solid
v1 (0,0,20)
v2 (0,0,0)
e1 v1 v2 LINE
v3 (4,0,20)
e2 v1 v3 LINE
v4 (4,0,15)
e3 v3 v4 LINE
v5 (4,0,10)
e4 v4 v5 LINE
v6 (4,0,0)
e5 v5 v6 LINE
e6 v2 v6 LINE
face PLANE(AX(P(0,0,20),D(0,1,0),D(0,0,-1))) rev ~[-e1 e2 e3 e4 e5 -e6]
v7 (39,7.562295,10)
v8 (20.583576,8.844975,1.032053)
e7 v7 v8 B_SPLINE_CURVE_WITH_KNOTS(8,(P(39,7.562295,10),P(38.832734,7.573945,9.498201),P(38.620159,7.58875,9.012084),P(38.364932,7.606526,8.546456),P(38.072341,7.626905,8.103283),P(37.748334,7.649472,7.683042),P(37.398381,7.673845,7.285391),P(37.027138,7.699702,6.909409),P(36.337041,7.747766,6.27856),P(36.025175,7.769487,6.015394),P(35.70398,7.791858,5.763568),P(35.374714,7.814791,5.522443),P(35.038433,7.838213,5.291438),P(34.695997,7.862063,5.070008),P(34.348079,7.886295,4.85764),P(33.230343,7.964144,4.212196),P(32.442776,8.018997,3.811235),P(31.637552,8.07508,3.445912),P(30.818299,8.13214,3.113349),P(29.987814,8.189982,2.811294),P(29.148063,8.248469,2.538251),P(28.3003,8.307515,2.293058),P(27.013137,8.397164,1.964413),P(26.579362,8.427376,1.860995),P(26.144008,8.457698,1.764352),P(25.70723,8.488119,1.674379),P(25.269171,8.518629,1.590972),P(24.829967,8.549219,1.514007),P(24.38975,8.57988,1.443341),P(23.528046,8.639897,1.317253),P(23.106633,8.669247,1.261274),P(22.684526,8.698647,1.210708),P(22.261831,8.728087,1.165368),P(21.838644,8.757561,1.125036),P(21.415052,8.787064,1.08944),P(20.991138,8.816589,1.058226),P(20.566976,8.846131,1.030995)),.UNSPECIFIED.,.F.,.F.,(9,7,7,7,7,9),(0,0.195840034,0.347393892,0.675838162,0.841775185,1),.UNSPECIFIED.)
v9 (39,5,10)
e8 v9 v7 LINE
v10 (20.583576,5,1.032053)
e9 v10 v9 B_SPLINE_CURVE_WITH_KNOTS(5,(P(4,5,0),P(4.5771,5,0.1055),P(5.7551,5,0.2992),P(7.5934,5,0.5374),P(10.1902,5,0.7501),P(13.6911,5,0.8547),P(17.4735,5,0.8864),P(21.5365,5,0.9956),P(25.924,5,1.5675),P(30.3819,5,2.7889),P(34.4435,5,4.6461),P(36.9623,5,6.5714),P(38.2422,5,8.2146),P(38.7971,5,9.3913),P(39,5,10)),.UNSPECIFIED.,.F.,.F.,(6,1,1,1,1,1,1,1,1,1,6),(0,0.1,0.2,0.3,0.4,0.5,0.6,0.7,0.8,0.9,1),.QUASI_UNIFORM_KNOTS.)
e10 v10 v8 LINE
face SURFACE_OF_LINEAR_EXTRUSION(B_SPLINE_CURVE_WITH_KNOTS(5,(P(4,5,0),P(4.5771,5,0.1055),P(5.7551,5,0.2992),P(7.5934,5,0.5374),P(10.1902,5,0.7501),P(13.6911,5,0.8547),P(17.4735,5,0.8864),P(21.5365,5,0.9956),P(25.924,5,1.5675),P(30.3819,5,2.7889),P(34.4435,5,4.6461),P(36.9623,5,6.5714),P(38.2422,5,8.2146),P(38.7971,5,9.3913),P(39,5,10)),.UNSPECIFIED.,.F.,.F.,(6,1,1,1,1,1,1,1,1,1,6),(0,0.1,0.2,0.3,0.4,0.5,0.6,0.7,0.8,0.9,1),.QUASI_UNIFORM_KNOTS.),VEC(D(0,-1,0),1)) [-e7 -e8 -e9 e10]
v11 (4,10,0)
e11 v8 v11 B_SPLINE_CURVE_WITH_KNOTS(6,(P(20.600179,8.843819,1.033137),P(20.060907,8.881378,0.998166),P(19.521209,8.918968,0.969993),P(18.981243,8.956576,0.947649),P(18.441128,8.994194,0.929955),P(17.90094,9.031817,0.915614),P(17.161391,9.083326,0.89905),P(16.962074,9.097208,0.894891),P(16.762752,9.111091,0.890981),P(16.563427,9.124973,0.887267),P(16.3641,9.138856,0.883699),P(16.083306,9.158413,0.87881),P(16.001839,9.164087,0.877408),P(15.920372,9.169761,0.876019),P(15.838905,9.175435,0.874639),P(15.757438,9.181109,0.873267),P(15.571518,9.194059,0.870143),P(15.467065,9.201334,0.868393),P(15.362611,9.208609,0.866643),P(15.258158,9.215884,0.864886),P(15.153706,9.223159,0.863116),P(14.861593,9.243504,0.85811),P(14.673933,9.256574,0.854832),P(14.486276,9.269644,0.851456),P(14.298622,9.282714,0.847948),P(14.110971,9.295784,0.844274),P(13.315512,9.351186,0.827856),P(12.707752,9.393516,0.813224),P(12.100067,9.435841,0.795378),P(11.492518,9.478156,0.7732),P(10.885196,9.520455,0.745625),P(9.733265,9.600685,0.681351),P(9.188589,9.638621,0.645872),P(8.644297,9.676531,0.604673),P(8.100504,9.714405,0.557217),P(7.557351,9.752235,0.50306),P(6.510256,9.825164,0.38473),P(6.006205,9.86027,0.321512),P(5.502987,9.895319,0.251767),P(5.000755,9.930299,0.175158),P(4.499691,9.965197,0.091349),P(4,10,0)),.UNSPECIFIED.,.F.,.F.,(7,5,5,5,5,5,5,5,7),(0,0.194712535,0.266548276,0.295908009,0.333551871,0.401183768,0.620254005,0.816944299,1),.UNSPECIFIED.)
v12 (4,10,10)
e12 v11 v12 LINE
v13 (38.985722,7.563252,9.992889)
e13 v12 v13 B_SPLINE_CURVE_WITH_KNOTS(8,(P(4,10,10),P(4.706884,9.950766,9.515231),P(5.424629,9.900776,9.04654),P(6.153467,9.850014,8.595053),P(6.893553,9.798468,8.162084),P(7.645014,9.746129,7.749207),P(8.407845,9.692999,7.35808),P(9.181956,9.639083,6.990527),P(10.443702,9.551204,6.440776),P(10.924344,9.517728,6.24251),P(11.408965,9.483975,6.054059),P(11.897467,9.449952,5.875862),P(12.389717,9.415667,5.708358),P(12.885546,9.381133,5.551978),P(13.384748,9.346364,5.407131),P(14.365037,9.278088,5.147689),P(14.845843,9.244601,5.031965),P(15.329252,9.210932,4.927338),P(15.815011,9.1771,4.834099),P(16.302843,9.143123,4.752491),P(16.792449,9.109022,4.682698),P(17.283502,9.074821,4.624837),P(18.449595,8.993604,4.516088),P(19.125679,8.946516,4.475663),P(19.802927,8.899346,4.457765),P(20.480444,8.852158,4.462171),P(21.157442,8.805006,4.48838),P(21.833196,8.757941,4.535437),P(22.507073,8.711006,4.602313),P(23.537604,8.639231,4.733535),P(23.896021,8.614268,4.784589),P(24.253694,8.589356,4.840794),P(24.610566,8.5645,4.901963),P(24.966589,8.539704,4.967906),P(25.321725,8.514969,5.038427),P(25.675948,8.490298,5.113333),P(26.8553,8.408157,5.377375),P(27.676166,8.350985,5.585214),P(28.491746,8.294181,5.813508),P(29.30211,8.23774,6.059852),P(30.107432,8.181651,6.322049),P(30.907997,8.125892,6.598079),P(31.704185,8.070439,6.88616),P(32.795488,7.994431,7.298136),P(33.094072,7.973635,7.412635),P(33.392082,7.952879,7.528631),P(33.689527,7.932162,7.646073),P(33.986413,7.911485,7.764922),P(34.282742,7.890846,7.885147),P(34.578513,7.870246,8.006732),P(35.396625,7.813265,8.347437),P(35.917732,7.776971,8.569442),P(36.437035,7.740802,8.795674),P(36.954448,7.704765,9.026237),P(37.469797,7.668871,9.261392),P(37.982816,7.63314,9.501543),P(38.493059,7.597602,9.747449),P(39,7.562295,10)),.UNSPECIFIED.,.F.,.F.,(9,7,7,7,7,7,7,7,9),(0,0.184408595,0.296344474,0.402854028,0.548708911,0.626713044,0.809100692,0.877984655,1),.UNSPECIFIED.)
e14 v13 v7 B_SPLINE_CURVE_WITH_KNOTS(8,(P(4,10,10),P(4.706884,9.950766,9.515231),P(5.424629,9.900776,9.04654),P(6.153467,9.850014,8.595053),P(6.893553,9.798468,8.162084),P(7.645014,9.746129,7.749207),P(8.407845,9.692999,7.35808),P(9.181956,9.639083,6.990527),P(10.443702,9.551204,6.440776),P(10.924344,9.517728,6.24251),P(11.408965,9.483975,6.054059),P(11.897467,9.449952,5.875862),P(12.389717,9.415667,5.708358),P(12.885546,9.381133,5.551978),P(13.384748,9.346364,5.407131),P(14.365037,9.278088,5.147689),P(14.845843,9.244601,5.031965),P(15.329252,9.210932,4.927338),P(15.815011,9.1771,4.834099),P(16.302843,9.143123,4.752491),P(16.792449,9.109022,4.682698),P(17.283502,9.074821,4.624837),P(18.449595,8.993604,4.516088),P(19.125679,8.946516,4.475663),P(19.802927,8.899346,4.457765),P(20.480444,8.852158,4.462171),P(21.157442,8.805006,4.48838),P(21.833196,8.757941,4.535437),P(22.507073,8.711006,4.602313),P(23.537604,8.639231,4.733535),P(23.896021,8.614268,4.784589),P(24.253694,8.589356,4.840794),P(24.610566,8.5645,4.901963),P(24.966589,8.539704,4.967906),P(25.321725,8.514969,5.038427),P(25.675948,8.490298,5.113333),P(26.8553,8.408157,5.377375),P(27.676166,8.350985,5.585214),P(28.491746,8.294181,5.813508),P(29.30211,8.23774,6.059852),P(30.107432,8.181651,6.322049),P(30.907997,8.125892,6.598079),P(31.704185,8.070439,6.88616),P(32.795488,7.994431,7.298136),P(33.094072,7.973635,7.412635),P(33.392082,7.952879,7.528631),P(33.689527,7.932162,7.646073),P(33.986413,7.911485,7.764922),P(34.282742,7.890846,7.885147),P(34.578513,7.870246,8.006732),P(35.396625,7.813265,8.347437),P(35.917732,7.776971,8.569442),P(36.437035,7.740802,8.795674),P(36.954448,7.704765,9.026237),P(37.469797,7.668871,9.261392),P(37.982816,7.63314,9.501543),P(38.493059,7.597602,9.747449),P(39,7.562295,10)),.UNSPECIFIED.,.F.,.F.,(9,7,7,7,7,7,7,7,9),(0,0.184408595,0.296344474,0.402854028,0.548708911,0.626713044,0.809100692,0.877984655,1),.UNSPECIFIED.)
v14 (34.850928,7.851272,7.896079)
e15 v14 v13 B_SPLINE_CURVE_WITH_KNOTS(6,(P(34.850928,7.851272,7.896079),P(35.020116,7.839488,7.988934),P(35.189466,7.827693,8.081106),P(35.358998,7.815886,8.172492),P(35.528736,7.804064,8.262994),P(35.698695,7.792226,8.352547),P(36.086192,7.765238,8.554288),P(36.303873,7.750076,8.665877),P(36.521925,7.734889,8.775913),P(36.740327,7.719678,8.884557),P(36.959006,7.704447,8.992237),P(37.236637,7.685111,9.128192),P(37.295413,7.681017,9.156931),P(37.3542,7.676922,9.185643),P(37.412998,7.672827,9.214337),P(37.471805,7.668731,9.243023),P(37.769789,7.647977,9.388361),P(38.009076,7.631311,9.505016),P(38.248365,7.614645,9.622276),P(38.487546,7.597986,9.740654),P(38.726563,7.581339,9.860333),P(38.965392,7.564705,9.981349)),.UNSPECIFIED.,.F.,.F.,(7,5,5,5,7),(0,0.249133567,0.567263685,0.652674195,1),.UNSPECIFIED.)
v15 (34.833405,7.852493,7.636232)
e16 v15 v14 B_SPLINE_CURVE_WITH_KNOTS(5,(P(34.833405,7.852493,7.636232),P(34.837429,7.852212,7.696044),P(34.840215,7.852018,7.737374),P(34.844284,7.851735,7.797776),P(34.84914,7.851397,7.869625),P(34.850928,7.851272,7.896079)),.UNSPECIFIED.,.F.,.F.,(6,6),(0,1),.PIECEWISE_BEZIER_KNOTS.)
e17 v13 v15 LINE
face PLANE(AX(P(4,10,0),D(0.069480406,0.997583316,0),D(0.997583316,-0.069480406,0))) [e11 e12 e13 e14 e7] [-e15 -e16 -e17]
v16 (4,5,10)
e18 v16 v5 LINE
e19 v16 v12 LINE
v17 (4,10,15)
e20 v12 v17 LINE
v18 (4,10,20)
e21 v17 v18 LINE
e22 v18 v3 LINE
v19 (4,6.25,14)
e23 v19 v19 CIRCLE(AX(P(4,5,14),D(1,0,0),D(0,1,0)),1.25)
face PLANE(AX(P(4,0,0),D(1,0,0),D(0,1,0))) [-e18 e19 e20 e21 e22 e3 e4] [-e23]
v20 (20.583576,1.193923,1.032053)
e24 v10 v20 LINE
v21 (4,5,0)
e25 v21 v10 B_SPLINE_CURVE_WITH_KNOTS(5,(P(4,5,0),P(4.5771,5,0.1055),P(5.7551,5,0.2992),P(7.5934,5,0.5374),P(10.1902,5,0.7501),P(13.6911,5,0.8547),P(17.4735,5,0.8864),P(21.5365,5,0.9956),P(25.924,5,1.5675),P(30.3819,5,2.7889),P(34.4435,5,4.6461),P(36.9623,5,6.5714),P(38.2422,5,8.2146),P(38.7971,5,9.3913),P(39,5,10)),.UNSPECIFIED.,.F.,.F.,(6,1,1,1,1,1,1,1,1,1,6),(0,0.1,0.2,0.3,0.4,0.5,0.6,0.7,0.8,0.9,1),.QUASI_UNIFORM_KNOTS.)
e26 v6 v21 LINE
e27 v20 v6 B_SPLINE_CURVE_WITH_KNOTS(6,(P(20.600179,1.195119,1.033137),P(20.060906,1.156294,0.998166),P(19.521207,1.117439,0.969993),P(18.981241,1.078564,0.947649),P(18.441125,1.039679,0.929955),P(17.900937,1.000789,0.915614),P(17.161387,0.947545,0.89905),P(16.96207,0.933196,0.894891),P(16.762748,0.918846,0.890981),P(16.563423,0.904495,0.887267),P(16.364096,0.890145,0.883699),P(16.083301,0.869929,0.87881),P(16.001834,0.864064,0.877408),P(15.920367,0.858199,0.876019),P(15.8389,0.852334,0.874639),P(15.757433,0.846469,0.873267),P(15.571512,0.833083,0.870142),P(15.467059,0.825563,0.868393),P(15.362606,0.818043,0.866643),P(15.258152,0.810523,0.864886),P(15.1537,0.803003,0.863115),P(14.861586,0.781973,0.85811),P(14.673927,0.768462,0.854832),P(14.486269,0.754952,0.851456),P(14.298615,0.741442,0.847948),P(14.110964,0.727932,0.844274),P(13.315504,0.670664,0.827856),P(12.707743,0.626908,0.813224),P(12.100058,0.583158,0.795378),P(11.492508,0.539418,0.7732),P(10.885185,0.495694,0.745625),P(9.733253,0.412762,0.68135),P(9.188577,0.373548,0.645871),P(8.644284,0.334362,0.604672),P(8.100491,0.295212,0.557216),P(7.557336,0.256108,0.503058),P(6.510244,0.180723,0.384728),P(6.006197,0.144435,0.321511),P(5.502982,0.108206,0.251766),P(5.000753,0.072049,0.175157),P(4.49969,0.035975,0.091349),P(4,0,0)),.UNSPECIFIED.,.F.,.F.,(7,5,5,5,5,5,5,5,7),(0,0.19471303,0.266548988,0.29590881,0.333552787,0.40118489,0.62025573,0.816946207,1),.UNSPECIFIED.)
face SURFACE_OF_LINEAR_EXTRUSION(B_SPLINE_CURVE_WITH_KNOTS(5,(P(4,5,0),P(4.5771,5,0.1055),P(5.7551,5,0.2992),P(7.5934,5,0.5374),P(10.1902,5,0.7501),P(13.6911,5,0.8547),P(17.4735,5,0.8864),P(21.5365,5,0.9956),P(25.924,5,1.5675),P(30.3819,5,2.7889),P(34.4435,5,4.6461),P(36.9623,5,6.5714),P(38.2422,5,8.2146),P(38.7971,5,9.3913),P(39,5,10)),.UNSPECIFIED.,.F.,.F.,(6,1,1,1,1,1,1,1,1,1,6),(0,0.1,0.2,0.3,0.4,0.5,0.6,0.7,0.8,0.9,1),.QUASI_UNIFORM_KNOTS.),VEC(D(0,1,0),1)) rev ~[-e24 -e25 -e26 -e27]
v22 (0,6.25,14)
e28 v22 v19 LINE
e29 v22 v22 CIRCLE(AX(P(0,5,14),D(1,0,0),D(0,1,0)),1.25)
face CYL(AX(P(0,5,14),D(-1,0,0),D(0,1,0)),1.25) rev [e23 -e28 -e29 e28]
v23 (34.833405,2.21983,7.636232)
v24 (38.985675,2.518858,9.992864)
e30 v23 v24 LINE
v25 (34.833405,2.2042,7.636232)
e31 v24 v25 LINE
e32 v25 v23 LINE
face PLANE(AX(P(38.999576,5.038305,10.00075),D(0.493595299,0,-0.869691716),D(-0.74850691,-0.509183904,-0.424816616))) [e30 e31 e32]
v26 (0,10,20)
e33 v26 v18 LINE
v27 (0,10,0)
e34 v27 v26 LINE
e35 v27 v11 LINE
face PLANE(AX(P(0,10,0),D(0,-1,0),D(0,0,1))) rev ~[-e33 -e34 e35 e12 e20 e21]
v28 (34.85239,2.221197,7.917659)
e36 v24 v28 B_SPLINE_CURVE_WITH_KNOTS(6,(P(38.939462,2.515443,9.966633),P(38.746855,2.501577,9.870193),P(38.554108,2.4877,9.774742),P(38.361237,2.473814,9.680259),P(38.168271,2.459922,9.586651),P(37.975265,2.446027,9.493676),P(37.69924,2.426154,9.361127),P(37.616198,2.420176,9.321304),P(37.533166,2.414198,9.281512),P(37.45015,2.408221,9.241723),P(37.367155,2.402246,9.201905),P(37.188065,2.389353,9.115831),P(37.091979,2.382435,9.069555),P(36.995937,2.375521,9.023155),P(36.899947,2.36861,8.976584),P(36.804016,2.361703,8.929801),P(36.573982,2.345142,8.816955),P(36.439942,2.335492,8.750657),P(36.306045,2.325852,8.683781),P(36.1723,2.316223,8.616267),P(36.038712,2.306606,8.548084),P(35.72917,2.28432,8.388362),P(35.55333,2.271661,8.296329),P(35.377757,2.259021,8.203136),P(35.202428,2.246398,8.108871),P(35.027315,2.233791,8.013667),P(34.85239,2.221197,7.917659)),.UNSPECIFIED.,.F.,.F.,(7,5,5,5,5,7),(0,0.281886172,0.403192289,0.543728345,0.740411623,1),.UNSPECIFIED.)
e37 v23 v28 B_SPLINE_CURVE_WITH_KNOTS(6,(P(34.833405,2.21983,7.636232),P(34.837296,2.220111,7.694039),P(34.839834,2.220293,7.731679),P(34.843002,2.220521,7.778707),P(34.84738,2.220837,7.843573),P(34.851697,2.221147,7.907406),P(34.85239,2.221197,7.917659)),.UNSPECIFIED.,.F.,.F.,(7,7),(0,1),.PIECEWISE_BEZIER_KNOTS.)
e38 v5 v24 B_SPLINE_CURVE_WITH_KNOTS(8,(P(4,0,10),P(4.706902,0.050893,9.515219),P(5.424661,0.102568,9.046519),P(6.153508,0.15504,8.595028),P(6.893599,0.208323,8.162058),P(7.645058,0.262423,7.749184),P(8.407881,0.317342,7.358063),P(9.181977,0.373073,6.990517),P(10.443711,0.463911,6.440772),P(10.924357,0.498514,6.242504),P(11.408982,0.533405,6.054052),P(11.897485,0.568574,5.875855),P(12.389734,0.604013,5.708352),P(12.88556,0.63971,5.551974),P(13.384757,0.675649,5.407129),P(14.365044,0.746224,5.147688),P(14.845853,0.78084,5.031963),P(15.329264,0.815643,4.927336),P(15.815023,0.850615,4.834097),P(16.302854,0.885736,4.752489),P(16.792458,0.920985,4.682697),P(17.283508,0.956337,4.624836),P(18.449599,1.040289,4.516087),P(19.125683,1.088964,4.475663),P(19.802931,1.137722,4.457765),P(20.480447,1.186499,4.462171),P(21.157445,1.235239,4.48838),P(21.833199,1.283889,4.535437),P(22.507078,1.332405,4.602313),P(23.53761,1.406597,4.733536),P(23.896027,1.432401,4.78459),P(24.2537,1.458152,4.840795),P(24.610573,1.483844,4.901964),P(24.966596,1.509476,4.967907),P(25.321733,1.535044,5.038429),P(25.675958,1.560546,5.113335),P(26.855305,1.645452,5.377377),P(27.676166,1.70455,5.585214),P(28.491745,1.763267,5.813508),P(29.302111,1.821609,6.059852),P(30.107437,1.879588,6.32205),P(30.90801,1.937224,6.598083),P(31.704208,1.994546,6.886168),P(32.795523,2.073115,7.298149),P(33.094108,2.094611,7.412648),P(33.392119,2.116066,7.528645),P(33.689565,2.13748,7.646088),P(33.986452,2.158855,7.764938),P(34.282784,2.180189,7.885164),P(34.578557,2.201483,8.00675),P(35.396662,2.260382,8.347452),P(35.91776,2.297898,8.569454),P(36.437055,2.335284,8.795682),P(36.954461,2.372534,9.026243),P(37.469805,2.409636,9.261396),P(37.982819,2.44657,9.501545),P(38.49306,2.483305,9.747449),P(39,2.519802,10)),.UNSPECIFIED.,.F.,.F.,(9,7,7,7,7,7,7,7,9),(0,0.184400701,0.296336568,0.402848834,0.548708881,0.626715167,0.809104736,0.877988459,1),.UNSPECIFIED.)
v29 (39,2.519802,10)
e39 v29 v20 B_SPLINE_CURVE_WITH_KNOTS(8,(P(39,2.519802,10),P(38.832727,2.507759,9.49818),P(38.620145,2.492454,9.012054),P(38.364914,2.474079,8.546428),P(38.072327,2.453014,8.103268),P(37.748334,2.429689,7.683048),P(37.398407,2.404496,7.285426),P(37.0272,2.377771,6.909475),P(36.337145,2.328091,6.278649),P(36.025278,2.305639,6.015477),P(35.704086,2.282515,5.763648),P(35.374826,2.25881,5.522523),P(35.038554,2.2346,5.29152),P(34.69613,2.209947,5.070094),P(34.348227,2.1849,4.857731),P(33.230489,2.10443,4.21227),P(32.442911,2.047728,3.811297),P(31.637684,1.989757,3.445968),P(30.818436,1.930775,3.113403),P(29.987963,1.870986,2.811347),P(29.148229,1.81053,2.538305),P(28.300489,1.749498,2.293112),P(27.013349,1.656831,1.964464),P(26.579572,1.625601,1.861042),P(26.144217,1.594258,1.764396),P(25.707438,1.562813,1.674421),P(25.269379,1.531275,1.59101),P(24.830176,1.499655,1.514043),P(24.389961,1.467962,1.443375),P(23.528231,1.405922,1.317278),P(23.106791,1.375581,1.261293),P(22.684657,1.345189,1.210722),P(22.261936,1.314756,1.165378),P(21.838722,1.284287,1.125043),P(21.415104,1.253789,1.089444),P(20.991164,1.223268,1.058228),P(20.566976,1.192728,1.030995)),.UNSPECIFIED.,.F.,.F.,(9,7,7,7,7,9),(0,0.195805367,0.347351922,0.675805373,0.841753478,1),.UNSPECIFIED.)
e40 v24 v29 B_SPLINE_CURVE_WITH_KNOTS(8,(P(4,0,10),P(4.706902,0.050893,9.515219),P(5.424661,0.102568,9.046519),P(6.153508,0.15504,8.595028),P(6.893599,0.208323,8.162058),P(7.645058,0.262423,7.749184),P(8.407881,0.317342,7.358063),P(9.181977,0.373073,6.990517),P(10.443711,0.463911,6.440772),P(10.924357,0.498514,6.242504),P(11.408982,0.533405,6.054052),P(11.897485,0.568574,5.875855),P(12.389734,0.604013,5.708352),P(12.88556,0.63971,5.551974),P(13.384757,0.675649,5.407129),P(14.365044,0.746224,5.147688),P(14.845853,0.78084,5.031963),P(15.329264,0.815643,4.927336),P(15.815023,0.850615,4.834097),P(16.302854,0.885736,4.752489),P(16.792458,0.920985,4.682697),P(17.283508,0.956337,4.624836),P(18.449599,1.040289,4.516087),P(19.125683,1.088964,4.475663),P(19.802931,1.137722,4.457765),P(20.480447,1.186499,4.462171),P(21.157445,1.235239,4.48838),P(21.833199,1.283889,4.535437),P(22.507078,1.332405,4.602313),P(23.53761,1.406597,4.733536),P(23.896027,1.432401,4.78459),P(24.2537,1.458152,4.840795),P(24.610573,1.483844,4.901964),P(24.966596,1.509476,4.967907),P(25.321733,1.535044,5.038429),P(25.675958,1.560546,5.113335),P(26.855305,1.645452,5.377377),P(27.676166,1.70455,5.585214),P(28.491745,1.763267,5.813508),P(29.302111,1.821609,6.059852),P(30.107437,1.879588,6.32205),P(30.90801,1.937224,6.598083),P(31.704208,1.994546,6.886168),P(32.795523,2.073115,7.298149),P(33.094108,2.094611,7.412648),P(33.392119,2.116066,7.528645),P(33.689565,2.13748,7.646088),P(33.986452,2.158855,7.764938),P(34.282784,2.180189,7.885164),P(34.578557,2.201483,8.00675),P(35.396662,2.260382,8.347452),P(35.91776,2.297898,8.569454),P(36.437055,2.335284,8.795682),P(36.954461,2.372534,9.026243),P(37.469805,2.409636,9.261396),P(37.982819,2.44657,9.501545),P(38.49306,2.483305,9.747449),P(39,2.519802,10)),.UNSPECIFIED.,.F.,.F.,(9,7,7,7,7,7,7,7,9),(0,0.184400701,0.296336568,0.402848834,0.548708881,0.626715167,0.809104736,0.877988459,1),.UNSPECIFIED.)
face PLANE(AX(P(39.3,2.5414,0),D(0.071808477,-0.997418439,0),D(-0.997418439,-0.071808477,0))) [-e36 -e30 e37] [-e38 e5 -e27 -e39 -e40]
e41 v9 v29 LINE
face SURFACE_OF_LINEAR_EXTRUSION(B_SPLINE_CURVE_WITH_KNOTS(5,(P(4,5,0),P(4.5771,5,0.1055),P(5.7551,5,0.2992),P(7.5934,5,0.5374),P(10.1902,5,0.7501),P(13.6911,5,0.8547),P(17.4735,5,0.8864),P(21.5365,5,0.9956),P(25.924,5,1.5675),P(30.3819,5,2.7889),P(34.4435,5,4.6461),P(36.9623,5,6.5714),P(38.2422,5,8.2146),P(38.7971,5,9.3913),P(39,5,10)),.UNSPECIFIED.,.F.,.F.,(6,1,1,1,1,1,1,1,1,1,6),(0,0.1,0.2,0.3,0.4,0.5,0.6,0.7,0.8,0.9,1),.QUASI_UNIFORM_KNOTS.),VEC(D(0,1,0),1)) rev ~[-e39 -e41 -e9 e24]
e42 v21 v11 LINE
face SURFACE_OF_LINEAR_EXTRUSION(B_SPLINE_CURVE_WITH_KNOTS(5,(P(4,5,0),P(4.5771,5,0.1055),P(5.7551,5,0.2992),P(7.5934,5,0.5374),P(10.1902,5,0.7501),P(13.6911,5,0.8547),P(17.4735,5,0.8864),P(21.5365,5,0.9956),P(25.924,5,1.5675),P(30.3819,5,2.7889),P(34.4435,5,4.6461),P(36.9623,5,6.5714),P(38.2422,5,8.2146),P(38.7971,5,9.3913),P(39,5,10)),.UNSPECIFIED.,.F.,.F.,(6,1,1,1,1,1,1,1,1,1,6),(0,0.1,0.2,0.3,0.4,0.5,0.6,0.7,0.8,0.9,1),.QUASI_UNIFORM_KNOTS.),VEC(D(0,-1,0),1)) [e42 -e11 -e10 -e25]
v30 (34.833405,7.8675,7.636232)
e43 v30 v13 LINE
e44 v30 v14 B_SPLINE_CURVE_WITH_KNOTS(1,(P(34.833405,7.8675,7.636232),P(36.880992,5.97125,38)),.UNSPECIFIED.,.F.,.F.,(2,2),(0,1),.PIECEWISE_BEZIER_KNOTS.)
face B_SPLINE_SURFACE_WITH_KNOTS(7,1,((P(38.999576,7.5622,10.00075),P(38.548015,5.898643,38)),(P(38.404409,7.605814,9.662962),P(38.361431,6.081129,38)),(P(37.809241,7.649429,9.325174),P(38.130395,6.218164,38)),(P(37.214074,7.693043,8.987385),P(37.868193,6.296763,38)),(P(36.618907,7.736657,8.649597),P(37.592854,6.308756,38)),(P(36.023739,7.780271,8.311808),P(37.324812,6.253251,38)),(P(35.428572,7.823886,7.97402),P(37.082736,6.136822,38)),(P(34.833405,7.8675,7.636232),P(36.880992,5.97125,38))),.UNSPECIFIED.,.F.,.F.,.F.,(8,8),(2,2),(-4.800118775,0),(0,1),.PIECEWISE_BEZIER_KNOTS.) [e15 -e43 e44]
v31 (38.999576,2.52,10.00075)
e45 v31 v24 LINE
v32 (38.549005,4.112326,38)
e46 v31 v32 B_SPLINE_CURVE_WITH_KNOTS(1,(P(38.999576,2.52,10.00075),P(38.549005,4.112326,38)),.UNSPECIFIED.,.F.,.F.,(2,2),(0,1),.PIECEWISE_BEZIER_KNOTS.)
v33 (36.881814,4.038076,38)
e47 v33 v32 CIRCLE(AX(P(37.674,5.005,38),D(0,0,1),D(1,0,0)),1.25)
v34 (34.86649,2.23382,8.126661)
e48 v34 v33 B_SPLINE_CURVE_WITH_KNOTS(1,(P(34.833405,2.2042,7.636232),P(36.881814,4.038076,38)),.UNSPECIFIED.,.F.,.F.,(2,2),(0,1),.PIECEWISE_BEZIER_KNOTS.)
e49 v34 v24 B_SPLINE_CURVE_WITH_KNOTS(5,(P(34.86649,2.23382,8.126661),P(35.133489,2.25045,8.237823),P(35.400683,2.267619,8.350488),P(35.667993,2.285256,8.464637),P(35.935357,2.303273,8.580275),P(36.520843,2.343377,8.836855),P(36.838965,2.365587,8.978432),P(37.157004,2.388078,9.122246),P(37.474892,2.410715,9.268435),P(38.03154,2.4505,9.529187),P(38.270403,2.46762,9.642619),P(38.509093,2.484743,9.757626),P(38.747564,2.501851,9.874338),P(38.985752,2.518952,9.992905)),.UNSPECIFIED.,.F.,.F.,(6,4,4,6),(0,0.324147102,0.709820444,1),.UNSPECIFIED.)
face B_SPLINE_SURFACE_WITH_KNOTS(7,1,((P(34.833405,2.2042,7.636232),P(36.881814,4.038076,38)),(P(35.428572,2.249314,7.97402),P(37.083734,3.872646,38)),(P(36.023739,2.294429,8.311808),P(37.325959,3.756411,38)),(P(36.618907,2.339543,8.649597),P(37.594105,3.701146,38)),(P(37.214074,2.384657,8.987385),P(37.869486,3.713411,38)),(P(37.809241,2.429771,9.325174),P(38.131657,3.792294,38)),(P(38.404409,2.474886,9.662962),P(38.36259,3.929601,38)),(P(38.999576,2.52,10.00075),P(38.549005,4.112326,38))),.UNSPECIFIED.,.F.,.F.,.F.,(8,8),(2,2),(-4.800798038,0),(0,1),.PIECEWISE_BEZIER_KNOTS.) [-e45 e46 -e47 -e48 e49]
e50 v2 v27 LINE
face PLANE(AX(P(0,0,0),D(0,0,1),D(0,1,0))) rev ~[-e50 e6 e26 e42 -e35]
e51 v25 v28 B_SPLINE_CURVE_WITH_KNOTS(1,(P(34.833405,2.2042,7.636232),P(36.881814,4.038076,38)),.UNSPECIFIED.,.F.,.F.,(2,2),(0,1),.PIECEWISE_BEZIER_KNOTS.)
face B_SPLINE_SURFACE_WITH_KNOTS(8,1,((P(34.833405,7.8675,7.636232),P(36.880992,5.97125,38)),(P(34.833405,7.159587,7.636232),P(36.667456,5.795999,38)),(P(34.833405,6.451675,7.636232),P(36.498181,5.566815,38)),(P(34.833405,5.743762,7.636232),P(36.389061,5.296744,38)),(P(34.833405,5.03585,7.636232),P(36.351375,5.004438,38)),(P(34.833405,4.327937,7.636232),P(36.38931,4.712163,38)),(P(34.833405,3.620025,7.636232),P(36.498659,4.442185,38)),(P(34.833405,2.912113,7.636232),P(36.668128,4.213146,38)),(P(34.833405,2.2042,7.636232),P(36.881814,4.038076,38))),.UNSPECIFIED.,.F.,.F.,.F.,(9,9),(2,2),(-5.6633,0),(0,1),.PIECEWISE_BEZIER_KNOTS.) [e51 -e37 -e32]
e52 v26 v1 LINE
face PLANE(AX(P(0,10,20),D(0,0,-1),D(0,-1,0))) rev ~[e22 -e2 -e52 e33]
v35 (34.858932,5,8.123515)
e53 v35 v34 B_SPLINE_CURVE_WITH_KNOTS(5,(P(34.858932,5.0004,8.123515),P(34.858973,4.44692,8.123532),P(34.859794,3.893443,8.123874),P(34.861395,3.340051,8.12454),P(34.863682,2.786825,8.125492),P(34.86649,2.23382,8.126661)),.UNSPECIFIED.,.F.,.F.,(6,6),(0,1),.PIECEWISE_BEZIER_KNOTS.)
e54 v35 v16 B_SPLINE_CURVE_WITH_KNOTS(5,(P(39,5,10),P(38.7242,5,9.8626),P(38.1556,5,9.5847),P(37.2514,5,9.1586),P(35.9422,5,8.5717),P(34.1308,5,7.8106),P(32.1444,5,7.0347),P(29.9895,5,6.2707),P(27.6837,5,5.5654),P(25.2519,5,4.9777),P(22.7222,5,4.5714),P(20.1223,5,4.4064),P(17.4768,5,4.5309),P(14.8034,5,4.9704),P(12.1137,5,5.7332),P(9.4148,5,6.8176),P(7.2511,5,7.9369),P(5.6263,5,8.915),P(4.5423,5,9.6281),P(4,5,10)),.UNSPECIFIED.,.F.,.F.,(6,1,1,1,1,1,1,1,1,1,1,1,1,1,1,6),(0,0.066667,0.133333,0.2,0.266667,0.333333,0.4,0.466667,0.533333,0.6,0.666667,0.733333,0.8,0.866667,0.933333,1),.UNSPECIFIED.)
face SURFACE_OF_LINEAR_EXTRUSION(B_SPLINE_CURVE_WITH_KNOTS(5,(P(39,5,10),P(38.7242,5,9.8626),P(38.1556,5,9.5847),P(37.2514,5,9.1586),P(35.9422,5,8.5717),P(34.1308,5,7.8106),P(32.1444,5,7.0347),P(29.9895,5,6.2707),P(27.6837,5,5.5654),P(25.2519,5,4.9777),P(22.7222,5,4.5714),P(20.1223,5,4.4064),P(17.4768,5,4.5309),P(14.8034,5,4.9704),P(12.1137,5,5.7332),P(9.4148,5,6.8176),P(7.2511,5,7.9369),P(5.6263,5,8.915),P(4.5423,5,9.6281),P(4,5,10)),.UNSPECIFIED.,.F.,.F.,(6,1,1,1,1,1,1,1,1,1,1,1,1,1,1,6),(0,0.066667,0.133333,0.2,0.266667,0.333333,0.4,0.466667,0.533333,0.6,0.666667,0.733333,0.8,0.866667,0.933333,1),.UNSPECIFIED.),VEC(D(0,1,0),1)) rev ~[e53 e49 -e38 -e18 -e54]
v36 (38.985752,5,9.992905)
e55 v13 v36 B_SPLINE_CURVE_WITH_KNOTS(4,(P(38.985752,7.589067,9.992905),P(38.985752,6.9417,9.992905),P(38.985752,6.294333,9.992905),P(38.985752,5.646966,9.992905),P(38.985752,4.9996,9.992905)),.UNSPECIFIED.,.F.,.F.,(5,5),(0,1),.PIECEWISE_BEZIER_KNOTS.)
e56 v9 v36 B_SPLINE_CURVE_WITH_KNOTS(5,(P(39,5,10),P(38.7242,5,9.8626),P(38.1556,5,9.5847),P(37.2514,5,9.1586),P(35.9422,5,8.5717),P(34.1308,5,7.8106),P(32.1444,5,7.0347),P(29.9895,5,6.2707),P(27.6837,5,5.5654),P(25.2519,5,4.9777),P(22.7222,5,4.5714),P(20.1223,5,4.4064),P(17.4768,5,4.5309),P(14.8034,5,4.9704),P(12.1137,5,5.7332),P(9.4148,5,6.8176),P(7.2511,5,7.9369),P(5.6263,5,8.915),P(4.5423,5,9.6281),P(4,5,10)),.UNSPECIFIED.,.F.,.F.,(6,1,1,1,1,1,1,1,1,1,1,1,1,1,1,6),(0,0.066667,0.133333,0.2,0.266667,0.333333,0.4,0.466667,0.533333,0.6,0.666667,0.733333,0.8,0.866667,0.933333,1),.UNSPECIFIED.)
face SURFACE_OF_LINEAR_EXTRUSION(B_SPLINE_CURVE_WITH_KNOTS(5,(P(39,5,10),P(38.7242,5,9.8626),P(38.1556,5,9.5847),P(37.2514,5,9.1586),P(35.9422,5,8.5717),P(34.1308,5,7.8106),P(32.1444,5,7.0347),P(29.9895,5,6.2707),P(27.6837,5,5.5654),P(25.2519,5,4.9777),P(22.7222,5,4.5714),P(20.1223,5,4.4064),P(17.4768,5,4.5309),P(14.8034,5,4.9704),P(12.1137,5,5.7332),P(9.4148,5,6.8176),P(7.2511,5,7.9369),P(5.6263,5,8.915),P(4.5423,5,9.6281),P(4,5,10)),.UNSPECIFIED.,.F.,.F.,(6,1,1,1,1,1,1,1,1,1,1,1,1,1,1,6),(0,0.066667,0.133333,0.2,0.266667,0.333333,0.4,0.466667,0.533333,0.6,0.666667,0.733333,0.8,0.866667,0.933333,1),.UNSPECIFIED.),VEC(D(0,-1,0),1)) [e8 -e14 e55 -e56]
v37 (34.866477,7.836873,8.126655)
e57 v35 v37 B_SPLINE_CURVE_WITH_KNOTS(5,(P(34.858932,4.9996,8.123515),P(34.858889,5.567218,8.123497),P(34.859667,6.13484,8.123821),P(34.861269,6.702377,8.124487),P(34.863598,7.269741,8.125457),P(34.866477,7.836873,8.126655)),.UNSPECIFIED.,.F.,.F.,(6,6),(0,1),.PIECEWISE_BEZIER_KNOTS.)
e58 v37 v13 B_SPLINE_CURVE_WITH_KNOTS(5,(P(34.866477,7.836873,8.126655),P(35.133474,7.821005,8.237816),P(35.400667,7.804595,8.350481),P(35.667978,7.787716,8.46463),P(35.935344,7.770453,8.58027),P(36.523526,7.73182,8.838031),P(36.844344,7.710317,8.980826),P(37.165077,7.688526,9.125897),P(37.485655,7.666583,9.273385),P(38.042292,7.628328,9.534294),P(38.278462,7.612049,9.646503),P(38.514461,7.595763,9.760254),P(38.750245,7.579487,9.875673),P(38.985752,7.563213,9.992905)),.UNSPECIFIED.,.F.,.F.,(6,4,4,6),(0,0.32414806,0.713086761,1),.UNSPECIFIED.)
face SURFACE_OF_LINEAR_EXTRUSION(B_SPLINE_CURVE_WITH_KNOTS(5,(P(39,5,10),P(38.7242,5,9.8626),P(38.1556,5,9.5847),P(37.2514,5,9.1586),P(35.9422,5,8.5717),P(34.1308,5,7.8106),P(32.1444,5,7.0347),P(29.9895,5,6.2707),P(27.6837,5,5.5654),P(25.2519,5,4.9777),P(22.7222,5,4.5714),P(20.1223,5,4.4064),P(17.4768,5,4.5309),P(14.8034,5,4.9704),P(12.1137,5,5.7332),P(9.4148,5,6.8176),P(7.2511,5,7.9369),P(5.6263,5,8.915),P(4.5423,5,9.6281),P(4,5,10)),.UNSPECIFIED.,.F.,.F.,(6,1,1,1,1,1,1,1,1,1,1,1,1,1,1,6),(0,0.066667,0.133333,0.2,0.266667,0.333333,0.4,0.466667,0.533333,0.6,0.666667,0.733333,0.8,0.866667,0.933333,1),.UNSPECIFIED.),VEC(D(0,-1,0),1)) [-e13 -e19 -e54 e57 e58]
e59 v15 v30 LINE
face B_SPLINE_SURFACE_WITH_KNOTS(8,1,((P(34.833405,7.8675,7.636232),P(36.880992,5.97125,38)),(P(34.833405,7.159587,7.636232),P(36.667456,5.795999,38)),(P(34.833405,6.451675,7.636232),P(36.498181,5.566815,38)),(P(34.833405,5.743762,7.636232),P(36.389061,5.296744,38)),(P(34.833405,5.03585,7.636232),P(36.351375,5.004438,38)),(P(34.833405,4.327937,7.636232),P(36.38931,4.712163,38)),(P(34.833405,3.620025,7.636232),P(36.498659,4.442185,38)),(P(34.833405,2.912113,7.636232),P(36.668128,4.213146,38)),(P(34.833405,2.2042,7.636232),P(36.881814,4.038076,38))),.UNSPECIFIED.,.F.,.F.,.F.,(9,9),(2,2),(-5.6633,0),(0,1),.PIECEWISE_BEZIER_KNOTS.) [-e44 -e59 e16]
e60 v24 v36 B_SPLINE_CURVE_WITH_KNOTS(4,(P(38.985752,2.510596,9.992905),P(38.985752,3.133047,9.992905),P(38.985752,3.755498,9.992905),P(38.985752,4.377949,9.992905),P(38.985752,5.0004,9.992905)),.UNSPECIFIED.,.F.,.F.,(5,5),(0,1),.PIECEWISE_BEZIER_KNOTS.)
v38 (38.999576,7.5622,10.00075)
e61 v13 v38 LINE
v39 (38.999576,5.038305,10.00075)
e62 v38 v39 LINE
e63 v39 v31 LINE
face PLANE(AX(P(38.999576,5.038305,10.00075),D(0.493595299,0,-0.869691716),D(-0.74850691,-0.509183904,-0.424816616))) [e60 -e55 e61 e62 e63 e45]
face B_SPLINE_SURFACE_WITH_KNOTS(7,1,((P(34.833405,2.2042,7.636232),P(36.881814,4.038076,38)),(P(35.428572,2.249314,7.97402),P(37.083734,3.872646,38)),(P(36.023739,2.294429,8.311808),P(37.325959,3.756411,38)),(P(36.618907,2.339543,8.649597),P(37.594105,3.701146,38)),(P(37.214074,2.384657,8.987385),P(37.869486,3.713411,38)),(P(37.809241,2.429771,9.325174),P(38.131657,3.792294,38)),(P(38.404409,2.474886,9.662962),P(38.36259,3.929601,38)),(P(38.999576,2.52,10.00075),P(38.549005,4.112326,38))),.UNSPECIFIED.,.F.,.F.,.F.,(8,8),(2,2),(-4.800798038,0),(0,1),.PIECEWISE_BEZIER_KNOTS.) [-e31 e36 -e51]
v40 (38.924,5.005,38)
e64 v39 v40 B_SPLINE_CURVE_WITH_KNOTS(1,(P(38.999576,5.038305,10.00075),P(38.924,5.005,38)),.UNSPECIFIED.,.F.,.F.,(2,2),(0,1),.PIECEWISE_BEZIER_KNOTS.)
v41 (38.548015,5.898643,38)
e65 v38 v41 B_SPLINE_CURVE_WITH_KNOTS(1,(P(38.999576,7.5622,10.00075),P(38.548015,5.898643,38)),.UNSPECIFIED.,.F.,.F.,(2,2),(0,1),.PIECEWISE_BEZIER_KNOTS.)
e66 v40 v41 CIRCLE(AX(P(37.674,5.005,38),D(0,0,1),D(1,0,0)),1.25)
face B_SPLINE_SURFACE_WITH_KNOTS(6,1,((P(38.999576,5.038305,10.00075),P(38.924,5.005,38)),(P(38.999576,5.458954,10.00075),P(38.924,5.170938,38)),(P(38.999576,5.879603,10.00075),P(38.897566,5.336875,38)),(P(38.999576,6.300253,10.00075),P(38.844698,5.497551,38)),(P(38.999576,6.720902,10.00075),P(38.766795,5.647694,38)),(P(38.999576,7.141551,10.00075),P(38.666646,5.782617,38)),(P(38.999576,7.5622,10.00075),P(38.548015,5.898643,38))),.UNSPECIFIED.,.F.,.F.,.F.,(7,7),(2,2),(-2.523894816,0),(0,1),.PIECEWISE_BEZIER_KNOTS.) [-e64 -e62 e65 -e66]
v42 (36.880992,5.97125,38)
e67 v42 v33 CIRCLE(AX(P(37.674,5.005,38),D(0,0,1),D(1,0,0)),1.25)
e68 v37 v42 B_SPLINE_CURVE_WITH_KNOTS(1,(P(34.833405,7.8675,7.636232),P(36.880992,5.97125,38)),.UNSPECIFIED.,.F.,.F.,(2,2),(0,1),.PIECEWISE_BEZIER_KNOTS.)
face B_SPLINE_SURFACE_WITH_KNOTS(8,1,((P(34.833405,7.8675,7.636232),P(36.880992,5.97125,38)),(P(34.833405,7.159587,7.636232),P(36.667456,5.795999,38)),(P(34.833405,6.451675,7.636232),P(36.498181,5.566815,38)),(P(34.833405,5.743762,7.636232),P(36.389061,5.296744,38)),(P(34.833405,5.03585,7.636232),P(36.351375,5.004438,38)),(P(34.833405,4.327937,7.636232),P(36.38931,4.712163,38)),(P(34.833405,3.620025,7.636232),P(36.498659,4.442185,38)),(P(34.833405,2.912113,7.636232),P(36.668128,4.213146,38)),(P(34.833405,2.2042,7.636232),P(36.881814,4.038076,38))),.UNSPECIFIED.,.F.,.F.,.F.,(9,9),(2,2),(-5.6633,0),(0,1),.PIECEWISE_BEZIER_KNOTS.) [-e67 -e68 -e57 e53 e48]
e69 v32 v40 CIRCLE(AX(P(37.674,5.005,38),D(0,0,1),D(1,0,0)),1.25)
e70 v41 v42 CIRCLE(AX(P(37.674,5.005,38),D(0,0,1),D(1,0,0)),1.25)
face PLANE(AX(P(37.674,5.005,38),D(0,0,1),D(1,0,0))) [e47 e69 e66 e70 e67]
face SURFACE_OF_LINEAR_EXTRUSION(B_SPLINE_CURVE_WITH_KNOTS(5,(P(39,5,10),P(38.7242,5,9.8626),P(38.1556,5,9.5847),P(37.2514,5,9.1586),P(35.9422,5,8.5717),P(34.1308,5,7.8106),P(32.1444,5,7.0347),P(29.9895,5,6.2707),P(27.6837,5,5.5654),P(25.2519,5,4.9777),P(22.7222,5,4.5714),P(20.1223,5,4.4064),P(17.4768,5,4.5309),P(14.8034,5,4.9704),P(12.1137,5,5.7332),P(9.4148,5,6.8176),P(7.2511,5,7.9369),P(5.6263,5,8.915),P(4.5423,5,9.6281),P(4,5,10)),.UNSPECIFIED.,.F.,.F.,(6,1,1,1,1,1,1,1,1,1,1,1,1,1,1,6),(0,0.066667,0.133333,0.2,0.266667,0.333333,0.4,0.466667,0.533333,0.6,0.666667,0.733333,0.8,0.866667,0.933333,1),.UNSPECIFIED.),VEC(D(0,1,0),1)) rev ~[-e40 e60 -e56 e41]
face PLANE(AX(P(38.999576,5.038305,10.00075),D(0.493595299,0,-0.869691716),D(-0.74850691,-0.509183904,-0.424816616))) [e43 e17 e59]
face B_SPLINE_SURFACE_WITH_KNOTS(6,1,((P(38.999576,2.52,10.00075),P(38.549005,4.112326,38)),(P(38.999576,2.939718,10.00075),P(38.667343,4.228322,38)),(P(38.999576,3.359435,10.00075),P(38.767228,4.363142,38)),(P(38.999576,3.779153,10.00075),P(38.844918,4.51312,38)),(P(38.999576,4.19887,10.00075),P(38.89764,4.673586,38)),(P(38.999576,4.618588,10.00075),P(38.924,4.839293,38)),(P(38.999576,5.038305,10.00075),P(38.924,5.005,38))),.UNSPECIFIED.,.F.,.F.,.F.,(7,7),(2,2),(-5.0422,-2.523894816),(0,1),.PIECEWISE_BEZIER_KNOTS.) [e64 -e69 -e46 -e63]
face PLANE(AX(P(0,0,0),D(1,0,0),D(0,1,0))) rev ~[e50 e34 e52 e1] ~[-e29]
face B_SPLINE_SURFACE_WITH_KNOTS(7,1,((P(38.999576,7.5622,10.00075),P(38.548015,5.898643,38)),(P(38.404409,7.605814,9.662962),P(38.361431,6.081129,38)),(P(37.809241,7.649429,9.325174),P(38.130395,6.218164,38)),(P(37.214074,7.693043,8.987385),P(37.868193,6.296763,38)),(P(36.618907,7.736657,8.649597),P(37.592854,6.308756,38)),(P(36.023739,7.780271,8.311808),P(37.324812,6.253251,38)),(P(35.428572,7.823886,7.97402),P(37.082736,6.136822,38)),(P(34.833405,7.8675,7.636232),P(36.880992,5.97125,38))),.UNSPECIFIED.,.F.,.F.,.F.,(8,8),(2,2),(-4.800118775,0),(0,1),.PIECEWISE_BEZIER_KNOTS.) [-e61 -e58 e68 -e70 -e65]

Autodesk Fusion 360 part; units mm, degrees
sketch "Sketch1" plane through (0, 0, 0) normal (1, 0, 0) x (0, 1, 0)
  line L0 (0, 0) -> (10, 0)
  line L1 (10, 0) -> (10, 20)
  line L2 (10, 20) -> (0, 20)
  line L3 (0, 20) -> (0, 0)
  circle A0 centre (5, 14) radius 1.25
  line L4 (5, 20) -> (5, 0) construction
  dimension "d1" = 10
  dimension "d2" = 20
  dimension "d3" = 6
  dimension "d4" = 2.5
extrude "Extrude1" add sketch "Sketch1" along normal blind 4
ref_plane "WorkPlane1" through (0, 5, 0) normal (0, 1, 0) x (0, 0, 1)
sketch "Sketch2" plane through (0, 5, 0) normal (0, 1, 0) x (1, 0, 0)
  spline S0 degree 5 poles (4, 0) (4.5771, -0.1055) (5.7551, -0.2992) (7.5934, -0.5374) (10.1902, -0.7501) (13.6911, -0.8547) (17.4735, -0.8864) (21.5365, -0.9956) (25.924, -1.5675) (30.3819, -2.7889) (34.4435, -4.6461) (36.9623, -6.5714) (38.2422, -8.2146) (38.7971, -9.3913) (39, -10) knots 0 0 0 0 0 0 0.1 0.2 0.3 0.4 0.5 0.6 0.7 0.8 0.9 1 1 1 1 1 1
  line L0 (15.7367, -0.7193) -> (25.4307, -1.3448)
  line L1 (0, 0) -> (4, 0)
  line L2 (38, -7) -> (40, -13)
  spline S1 degree 5 poles (39, -10) (38.7242, -9.8626) (38.1556, -9.5847) (37.2514, -9.1586) (35.9422, -8.5717) (34.1308, -7.8106) (32.1444, -7.0347) (29.9895, -6.2707) (27.6837, -5.5654) (25.2519, -4.9777) (22.7222, -4.5714) (20.1223, -4.4064) (17.4768, -4.5309) (14.8034, -4.9704) (12.1137, -5.7332) (9.4148, -6.8176) (7.2511, -7.9369) (5.6263, -8.915) (4.5423, -9.6281) (4, -10) knots 0 0 0 0 0 0 0.066667 0.133333 0.2 0.266667 0.333333 0.4 0.466667 0.533333 0.6 0.666667 0.733333 0.8 0.866667 0.933333 1 1 1 1 1 1
  line L3 (4, 0) -> (4, -10)
  line L4 (39, -10) -> (30.4055, -5.1224)
  point P0 (20.5837, -1.0321)
  point P1 (32, -7)
  point P2 (19.692, -4.4795)
  dimension "d8" = 35
  dimension "d9" = 10
  dimension "d10" = 4
  dimension "d11" = 10
extrude "Extrude2" add sketch "Sketch2" along normal mid plane 10
sketch "Sketch3" plane through (0, 0, 0) normal (0, 0, -1) x (1, 0, 0)
  line L0 (0, 0) -> (0, -10)
  line L1 (0, -10) -> (4, -10)
  line L2 (4, -10) -> (4, 0)
  line L3 (4, 0) -> (0, 0)
  line L4 (4, -10) -> (39.3, -7.5414)
  line L5 (39.3, -7.5414) -> (39.3, -2.5414)
  line L6 (39.3, -2.5414) -> (4, 0)
  line L7 (4, -10) -> (44.4178, -17.1605)
  line L8 (44.4178, -17.1605) -> (44.4178, 8.7922)
  line L9 (44.4178, 8.7922) -> (4, 0)
  dimension "d16" = 5
  dimension "d17" = 35.3
extrude "Extrude3" cut sketch "Sketch3" against normal blind 15 contours L4 L5 L6 L7 L8 L9
ref_plane "WorkPlane2" through (39, 2.5199, 10) normal (-0.4936, 0, 0.8697) x (0, -1, 0)
sketch "Sketch4" plane through (5.2084, 0, -9.1775) normal (-0.4936, 0, 0.8697) x (0, -1, 0)
  line L0 (-7.5622, 38.8542) -> (-2.52, 38.8542)
  line L1 (-2.52, 38.8542) -> (-2.2042, 34.0638)
  line L2 (-2.2042, 34.0638) -> (-7.8675, 34.0638)
  line L3 (-7.8675, 34.0638) -> (-7.5622, 38.8542)
ref_plane "WorkPlane3" through (0, 0, 38) normal (0, 0, 1) x (1, 0, 0)
sketch "Sketch5" plane through (0, 0, 38) normal (0, 0, 1) x (1, 0, 0)
  circle A0 centre (37.674, 5.005) radius 1.25
  dimension "d25" = 2.5
loft "Loft1" add profiles "Sketch4", "Sketch5" section 1 section 2
